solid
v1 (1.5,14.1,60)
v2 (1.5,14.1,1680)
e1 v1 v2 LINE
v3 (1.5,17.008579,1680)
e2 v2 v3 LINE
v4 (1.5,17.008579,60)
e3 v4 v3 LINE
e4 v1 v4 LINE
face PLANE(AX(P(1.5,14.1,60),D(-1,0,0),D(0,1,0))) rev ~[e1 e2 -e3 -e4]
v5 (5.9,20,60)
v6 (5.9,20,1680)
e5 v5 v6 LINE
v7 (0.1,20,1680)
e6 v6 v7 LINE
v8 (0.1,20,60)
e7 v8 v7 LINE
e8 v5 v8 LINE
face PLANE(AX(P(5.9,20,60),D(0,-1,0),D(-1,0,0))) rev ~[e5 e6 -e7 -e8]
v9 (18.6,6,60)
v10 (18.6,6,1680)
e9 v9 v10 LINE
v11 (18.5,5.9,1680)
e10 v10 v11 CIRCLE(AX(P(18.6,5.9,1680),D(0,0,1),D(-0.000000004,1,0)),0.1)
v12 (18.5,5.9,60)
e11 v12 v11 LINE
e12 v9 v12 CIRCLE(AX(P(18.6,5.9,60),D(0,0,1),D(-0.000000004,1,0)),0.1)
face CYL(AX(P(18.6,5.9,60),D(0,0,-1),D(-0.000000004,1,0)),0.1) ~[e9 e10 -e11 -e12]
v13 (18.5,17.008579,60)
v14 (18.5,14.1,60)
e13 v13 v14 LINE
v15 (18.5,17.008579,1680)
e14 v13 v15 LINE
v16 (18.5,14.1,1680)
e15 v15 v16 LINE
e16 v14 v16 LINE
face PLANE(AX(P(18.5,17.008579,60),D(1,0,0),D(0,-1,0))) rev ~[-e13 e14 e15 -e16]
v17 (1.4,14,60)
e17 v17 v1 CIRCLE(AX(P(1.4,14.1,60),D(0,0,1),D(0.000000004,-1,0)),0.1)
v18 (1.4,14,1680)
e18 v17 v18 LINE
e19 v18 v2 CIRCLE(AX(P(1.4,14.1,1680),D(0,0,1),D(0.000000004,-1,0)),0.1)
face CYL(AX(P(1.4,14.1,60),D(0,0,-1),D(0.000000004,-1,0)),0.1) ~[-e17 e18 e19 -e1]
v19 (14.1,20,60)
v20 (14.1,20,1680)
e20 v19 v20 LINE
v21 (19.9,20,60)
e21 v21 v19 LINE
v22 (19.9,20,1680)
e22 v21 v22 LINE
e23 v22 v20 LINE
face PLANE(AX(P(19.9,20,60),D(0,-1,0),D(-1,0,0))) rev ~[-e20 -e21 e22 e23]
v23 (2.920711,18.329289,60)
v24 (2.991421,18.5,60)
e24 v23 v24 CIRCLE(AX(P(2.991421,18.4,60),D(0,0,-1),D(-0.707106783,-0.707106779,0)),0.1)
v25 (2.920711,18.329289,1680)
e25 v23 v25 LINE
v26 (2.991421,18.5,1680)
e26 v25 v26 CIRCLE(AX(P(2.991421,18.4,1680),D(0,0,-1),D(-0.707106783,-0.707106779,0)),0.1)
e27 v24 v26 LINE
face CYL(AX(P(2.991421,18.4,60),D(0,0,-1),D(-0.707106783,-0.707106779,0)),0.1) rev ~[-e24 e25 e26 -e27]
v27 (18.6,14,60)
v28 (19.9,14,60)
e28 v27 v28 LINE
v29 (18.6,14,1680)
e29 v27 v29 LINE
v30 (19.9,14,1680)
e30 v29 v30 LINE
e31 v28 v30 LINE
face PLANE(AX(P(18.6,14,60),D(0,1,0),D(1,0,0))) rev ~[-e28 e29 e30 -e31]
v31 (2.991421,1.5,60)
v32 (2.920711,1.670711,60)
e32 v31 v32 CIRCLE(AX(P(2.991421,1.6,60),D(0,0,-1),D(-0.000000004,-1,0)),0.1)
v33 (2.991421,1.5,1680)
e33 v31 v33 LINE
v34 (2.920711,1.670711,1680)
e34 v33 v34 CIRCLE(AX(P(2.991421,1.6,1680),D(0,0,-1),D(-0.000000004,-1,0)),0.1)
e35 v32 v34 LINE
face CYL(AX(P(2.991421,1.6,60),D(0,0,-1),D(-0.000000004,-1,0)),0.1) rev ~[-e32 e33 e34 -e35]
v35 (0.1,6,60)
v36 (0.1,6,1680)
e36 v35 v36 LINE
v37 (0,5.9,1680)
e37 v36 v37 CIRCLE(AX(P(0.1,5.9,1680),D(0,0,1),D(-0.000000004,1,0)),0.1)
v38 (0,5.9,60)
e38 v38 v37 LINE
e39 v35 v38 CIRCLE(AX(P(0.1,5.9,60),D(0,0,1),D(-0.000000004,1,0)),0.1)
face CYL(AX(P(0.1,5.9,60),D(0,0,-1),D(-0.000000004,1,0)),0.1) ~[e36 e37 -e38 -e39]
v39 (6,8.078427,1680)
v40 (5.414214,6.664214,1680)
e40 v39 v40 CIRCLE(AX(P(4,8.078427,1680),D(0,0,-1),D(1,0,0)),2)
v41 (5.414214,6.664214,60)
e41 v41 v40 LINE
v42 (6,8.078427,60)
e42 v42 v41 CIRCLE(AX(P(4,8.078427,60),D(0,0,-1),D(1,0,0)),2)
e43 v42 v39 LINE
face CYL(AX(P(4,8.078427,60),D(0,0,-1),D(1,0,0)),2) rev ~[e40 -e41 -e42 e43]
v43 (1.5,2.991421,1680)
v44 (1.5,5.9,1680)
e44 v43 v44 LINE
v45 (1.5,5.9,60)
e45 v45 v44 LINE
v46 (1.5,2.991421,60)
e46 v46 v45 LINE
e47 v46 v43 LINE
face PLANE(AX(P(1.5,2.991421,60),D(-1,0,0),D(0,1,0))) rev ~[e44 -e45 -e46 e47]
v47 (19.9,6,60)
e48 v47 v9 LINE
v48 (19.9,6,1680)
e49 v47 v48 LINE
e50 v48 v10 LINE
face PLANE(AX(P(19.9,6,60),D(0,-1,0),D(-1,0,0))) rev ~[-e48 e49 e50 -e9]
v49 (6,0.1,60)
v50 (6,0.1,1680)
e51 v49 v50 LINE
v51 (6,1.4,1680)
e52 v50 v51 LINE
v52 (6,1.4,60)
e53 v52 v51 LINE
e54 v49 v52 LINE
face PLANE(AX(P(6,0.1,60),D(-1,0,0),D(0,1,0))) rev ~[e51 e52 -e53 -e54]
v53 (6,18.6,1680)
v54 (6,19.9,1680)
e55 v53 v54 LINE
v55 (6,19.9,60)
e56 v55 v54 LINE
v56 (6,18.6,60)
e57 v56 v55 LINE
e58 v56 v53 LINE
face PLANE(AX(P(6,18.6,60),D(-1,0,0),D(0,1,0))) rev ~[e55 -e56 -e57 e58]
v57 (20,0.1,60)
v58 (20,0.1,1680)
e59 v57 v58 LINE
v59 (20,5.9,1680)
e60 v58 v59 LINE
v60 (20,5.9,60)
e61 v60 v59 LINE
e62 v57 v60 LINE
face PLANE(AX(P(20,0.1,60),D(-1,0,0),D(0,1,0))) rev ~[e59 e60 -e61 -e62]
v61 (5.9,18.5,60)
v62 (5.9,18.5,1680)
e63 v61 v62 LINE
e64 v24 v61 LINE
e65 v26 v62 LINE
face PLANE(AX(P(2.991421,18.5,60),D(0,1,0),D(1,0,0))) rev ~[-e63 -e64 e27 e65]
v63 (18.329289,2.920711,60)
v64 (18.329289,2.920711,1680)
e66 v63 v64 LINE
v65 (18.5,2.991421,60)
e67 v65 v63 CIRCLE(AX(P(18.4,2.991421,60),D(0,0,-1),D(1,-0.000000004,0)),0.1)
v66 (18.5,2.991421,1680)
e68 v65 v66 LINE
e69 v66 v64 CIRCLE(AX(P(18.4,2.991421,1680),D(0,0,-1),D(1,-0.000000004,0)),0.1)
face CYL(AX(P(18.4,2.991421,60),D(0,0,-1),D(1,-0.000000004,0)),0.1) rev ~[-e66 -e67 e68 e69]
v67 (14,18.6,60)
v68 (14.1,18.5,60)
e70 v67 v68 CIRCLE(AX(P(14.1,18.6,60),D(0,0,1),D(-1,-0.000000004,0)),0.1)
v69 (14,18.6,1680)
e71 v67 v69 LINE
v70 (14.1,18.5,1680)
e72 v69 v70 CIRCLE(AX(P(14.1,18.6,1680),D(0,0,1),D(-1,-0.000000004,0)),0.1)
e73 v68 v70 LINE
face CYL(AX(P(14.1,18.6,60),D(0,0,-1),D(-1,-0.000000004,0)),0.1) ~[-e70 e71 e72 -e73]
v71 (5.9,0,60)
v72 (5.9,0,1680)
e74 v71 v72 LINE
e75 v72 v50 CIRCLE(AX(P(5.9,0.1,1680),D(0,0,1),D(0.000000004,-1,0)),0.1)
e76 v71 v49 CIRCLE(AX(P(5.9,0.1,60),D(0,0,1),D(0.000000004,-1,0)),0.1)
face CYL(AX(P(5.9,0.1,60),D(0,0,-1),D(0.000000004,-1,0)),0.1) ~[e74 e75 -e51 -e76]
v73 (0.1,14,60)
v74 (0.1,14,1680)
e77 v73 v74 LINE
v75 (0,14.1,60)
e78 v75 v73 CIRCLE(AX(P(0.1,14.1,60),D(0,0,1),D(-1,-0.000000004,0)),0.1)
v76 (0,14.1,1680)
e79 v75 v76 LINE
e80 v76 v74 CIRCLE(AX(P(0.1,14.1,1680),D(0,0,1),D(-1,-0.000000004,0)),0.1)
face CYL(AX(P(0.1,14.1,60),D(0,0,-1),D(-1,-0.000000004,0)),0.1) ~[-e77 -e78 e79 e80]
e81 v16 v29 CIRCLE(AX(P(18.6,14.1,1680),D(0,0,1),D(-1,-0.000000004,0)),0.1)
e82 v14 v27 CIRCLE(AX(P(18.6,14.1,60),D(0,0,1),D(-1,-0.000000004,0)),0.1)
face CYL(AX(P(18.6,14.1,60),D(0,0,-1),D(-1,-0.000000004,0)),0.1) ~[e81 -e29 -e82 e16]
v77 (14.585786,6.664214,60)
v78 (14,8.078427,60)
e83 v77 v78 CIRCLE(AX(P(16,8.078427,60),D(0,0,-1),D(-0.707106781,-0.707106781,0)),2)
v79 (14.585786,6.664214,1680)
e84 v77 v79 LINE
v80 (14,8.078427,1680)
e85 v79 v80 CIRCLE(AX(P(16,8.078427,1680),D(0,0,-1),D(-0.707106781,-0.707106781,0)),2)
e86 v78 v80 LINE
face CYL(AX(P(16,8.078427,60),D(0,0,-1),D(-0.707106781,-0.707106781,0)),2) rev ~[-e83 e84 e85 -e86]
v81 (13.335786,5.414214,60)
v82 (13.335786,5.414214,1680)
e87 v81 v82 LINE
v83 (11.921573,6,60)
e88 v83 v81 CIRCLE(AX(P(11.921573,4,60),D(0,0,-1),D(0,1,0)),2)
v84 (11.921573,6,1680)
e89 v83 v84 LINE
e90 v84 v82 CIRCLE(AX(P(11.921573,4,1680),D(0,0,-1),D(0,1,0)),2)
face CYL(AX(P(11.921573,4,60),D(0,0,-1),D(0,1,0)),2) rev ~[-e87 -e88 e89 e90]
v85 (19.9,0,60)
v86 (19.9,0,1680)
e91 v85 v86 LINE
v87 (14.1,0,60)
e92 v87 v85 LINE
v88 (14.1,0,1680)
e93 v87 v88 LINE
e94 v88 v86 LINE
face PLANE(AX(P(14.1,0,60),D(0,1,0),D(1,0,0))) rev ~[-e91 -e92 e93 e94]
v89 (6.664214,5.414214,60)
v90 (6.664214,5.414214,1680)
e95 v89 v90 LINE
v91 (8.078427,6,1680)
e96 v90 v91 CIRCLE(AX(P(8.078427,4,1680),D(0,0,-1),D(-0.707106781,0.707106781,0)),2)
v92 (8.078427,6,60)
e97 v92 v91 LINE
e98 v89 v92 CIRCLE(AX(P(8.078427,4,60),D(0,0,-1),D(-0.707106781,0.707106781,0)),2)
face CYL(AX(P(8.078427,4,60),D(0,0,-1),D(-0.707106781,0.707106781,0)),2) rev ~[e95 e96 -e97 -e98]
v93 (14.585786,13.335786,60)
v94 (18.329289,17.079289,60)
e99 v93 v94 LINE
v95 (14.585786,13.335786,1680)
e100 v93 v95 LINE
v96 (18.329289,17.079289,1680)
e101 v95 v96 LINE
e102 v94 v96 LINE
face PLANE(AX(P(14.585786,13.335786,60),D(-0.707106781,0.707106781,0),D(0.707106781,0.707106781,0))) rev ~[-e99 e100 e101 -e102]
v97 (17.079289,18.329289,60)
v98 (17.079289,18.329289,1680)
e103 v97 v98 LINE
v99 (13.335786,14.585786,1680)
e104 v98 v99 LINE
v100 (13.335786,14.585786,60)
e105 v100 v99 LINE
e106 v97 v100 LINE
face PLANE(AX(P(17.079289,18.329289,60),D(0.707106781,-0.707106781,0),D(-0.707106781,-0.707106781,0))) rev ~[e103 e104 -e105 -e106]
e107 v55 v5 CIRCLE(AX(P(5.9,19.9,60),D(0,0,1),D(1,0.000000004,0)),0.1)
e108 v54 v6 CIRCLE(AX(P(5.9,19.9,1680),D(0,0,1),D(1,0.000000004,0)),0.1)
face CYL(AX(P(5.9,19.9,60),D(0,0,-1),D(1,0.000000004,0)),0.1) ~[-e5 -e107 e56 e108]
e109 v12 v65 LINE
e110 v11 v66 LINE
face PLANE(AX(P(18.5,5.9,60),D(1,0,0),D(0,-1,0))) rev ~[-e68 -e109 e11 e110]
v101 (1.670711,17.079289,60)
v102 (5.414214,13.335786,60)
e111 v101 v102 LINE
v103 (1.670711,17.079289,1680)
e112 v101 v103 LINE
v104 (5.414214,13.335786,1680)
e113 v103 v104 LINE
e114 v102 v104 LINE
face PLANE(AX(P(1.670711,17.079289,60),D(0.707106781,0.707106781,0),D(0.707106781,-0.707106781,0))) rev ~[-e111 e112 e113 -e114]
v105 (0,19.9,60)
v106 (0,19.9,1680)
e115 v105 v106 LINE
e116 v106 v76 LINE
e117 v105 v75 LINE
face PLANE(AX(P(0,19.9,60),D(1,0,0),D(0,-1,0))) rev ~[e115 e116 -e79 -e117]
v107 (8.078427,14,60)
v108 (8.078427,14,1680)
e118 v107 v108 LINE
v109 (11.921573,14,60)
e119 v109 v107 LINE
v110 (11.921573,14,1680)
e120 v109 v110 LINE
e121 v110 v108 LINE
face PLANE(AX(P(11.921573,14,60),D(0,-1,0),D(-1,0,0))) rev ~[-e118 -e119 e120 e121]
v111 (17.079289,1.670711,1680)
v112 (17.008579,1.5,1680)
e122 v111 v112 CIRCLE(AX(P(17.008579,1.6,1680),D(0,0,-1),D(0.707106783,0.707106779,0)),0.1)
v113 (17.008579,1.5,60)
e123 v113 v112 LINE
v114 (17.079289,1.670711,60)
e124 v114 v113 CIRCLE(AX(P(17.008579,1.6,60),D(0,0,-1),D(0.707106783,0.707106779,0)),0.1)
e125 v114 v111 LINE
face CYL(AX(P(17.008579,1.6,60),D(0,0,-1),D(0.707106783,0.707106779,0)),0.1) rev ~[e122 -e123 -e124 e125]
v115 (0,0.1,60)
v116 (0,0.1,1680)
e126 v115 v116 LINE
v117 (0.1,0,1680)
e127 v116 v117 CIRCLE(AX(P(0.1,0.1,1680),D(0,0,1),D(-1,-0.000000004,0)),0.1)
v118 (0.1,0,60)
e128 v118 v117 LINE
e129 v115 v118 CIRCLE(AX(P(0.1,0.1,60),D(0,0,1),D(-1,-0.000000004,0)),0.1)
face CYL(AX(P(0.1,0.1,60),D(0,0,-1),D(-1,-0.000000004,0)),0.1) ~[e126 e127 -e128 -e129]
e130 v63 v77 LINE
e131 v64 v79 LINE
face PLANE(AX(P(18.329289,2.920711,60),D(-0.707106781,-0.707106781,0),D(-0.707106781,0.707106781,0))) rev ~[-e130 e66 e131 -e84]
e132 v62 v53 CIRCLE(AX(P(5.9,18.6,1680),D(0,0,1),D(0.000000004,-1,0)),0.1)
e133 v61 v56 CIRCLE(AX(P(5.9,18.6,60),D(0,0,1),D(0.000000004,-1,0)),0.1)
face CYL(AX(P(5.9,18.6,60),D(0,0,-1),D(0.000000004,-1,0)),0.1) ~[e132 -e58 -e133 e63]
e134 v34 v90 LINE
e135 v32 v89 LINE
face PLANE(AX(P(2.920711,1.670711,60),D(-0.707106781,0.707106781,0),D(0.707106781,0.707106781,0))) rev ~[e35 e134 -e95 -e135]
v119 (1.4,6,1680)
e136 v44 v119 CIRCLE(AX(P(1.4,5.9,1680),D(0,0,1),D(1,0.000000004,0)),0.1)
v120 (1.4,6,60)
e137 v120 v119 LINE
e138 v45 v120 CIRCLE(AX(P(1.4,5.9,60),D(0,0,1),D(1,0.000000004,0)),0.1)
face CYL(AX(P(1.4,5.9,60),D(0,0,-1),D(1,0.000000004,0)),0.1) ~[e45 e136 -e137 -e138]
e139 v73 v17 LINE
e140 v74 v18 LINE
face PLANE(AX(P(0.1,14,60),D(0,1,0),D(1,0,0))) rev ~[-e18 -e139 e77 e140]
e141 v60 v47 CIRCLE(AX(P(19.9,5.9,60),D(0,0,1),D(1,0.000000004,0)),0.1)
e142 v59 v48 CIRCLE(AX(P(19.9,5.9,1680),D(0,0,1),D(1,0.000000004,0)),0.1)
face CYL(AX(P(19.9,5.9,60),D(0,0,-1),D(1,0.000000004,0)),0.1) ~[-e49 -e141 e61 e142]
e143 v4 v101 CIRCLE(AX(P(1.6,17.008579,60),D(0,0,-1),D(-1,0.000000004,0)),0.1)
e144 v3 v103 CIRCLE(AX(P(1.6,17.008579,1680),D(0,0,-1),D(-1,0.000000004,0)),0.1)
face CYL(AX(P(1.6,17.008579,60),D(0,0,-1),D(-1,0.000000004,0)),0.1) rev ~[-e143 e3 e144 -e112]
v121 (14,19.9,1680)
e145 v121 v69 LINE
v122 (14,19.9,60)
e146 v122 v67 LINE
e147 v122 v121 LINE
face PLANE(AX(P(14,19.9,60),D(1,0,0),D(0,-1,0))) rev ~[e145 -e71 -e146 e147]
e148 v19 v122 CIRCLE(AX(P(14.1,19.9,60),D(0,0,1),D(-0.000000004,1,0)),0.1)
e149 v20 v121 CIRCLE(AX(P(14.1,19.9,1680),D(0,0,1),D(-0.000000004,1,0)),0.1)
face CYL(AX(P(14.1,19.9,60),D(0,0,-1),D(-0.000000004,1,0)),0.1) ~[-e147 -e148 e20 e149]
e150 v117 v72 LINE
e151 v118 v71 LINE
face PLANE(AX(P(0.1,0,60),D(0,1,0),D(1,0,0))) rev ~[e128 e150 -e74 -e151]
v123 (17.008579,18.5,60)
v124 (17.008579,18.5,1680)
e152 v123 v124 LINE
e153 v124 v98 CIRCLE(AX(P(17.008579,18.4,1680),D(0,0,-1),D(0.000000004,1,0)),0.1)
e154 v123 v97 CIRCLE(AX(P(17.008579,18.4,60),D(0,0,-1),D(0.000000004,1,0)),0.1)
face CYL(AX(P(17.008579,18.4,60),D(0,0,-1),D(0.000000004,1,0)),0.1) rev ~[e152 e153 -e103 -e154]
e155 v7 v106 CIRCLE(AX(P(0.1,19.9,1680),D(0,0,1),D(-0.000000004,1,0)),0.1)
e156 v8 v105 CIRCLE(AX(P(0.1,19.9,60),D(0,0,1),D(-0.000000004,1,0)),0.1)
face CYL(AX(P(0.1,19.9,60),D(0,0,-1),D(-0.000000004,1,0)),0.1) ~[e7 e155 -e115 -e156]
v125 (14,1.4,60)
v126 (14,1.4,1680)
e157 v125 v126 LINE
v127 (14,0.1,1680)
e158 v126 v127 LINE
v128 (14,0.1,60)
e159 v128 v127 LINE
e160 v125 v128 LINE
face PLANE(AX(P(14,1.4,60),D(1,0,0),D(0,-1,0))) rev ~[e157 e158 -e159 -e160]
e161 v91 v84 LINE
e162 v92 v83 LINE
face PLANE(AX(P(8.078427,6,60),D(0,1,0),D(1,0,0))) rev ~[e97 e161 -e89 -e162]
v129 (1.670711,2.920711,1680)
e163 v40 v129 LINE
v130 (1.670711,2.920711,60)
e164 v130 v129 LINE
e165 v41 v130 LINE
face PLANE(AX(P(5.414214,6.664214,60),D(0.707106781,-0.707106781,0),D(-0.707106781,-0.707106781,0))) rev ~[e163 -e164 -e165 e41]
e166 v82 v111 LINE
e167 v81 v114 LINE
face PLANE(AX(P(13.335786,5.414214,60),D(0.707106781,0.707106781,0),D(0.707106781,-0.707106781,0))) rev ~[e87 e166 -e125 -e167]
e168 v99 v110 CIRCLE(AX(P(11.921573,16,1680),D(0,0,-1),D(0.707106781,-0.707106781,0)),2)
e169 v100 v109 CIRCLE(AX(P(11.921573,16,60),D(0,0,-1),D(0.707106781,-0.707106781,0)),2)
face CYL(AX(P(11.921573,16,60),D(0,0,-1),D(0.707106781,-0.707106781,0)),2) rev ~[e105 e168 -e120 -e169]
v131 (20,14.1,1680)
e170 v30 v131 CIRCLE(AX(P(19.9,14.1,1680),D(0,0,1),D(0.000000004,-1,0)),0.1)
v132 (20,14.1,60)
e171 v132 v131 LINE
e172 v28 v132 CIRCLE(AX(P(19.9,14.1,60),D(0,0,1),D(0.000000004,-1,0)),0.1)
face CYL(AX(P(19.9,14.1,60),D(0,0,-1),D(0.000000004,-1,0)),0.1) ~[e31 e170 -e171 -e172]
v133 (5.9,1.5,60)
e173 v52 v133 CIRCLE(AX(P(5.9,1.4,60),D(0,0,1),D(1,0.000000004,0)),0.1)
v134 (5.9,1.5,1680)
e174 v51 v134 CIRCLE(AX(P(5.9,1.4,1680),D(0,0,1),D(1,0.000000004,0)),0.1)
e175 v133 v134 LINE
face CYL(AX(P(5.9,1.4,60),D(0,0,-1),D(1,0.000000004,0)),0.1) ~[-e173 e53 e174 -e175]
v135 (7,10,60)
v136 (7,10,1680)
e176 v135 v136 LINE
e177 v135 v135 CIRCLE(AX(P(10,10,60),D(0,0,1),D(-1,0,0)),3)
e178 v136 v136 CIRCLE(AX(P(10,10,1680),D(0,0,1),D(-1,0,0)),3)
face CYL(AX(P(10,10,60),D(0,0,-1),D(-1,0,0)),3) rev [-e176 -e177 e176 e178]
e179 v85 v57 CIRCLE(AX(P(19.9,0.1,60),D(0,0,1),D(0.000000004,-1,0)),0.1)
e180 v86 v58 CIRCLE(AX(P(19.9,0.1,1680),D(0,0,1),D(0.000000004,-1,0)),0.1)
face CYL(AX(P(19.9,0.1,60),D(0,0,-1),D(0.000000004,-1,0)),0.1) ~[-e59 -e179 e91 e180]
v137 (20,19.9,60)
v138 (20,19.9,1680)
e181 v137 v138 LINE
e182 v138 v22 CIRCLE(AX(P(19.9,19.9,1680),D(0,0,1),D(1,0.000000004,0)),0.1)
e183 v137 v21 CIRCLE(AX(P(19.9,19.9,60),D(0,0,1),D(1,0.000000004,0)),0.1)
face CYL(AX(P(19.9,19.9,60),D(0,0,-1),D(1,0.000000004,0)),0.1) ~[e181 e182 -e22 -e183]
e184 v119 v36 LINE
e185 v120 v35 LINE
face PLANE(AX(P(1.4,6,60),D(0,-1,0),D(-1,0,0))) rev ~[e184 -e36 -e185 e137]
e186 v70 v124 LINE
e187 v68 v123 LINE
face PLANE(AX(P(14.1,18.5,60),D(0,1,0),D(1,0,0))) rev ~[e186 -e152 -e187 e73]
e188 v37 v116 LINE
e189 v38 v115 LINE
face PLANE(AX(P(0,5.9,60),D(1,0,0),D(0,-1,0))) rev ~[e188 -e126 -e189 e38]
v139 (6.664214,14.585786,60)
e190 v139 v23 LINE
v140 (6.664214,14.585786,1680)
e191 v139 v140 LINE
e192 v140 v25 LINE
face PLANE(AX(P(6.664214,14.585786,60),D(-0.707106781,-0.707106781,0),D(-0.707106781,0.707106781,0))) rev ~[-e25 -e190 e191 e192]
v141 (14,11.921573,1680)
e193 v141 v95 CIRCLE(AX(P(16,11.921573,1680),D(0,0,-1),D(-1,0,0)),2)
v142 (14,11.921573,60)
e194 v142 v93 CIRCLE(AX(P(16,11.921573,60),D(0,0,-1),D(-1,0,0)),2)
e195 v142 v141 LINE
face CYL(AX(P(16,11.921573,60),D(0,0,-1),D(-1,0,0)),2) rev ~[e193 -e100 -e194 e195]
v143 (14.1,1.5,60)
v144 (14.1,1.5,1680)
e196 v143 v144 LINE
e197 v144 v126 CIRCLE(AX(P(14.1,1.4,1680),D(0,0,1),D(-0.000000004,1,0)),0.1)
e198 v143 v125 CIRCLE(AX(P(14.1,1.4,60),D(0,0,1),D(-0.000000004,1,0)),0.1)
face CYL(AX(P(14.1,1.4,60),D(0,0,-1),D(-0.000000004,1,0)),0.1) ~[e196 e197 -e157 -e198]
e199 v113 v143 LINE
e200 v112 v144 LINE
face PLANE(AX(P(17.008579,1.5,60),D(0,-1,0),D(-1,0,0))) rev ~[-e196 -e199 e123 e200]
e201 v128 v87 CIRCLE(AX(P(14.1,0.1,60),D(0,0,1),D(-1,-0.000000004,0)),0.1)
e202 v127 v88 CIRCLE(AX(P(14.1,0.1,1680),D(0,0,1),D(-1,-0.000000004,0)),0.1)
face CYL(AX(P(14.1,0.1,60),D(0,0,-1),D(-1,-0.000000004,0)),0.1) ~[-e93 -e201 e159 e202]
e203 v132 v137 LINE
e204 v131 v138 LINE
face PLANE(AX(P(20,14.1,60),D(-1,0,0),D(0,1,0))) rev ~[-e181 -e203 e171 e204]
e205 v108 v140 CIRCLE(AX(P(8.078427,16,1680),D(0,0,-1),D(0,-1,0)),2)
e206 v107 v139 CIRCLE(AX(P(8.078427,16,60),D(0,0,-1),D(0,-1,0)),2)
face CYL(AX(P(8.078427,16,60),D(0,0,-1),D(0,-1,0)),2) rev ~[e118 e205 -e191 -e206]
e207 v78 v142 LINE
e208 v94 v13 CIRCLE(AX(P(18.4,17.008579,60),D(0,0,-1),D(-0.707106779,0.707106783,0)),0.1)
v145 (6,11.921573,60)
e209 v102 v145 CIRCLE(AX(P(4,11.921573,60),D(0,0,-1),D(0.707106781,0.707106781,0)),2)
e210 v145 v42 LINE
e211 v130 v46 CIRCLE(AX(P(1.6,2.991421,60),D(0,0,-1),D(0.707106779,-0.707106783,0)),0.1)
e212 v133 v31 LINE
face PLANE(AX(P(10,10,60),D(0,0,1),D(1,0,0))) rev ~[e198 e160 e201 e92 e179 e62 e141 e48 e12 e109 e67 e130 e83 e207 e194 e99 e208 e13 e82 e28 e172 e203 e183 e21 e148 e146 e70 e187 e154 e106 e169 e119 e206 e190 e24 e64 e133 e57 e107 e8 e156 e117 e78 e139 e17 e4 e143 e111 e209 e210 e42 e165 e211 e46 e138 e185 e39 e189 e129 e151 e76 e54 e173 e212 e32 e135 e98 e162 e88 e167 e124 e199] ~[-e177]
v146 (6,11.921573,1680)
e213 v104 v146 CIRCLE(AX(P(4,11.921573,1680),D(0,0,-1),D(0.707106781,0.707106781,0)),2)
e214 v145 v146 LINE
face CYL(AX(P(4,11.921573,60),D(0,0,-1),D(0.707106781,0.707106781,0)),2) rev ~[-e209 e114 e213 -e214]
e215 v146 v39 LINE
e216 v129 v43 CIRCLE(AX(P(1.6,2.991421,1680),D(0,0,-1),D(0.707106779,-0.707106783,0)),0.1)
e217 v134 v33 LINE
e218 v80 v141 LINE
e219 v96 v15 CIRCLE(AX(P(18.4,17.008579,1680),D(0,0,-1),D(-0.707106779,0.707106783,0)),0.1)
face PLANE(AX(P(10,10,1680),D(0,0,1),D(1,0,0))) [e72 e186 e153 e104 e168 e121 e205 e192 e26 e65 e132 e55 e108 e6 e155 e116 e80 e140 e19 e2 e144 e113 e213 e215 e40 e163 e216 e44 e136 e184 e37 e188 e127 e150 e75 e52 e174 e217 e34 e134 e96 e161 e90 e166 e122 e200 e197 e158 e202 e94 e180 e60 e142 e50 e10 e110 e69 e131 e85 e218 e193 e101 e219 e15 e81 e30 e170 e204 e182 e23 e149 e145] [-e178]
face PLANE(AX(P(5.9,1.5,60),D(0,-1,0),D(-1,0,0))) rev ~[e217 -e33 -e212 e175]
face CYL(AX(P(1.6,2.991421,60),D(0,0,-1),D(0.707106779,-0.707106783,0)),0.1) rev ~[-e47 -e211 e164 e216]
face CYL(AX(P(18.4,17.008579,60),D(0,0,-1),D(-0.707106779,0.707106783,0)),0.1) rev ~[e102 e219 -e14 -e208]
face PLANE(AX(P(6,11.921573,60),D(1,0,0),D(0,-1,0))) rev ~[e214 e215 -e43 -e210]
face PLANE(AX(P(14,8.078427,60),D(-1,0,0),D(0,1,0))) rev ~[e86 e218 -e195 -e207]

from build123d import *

# Parameters (mm, degrees)
SKETCH1_R           = 3
BOSS_EXTRUDE2_DEPTH = 1620


with BuildPart() as part:
    # Sketch1 → Boss-Extrude2 (new body)
    with BuildSketch(Plane.XY.offset(60)):
        with BuildLine():
            Line((18.5, 17.008578644), (18.5, 14.1))
            ThreePointArc((18.5, 14.1), (18.529289322, 14.029289322), (18.6, 14))
            Line((18.6, 14), (19.9, 14))
            ThreePointArc((19.9, 14), (19.970710678, 14.029289322), (20, 14.1))
            Line((20, 14.1), (20, 19.9))
            ThreePointArc((20, 19.9), (19.970710678, 19.970710678), (19.9, 20))
            Line((19.9, 20), (14.1, 20))
            ThreePointArc((14.1, 20), (14.029289322, 19.970710678), (14, 19.9))
            Line((14, 19.9), (14, 18.6))
            ThreePointArc((14, 18.6), (14.029289322, 18.529289322), (14.1, 18.5))
            Line((14.1, 18.5), (17.008578644, 18.5))
            ThreePointArc((17.008578644, 18.5), (17.100966597, 18.438268343), (17.079289322, 18.329289322))
            Line((17.079289322, 18.329289322), (13.335786438, 14.585786438))
            ThreePointArc((13.335786438, 14.585786438), (12.68693974, 14.152240935), (11.921572875, 14))
            Line((11.921572875, 14), (8.078427125, 14))
            ThreePointArc((8.078427125, 14), (7.31306026, 14.152240935), (6.664213562, 14.585786438))
            Line((6.664213562, 14.585786438), (2.920710678, 18.329289322))
            ThreePointArc((2.920710678, 18.329289322), (2.899033403, 18.438268343), (2.991421356, 18.5))
            Line((2.991421356, 18.5), (5.9, 18.5))
            ThreePointArc((5.9, 18.5), (5.970710678, 18.529289322), (6, 18.6))
            Line((6, 18.6), (6, 19.9))
            ThreePointArc((6, 19.9), (5.970710678, 19.970710678), (5.9, 20))
            Line((5.9, 20), (0.1, 20))
            ThreePointArc((0.1, 20), (0.029289322, 19.970710678), (0, 19.9))
            Line((0, 19.9), (0, 14.1))
            ThreePointArc((0, 14.1), (0.029289322, 14.029289322), (0.1, 14))
            Line((0.1, 14), (1.4, 14))
            ThreePointArc((1.4, 14), (1.470710678, 14.029289322), (1.5, 14.1))
            Line((1.5, 14.1), (1.5, 17.008578644))
            ThreePointArc((1.5, 17.008578644), (1.561731657, 17.100966597), (1.670710678, 17.079289322))
            Line((1.670710678, 17.079289322), (5.414213562, 13.335786438))
            ThreePointArc((5.414213562, 13.335786438), (5.847759065, 12.68693974), (6, 11.921572875))
            Line((6, 11.921572875), (6, 8.078427125))
            ThreePointArc((6, 8.078427125), (5.847759065, 7.31306026), (5.414213562, 6.664213562))
            Line((5.414213562, 6.664213562), (1.670710678, 2.920710678))
            ThreePointArc((1.670710678, 2.920710678), (1.561731657, 2.899033403), (1.5, 2.991421356))
            Line((1.5, 2.991421356), (1.5, 5.9))
            ThreePointArc((1.5, 5.9), (1.470710678, 5.970710678), (1.4, 6))
            Line((1.4, 6), (0.1, 6))
            ThreePointArc((0.1, 6), (0.029289322, 5.970710678), (0, 5.9))
            Line((0, 5.9), (0, 0.1))
            ThreePointArc((0, 0.1), (0.029289322, 0.029289322), (0.1, 0))
            Line((0.1, 0), (5.9, 0))
            ThreePointArc((5.9, 0), (5.970710678, 0.029289322), (6, 0.1))
            Line((6, 0.1), (6, 1.4))
            ThreePointArc((6, 1.4), (5.970710678, 1.470710678), (5.9, 1.5))
            Line((5.9, 1.5), (2.991421356, 1.5))
            ThreePointArc((2.991421356, 1.5), (2.899033403, 1.561731657), (2.920710678, 1.670710678))
            Line((2.920710678, 1.670710678), (6.664213562, 5.414213562))
            ThreePointArc((6.664213562, 5.414213562), (7.31306026, 5.847759065), (8.078427125, 6))
            Line((8.078427125, 6), (11.921572875, 6))
            ThreePointArc((11.921572875, 6), (12.68693974, 5.847759065), (13.335786438, 5.414213562))
            Line((13.335786438, 5.414213562), (17.079289322, 1.670710678))
            ThreePointArc((17.079289322, 1.670710678), (17.100966597, 1.561731657), (17.008578644, 1.5))
            Line((17.008578644, 1.5), (14.1, 1.5))
            ThreePointArc((14.1, 1.5), (14.029289322, 1.470710678), (14, 1.4))
            Line((14, 1.4), (14, 0.1))
            ThreePointArc((14, 0.1), (14.029289322, 0.029289322), (14.1, 0))
            Line((14.1, 0), (19.9, 0))
            ThreePointArc((19.9, 0), (19.970710678, 0.029289322), (20, 0.1))
            Line((20, 0.1), (20, 5.9))
            ThreePointArc((20, 5.9), (19.970710678, 5.970710678), (19.9, 6))
            Line((19.9, 6), (18.6, 6))
            ThreePointArc((18.6, 6), (18.529289322, 5.970710678), (18.5, 5.9))
            Line((18.5, 5.9), (18.5, 2.991421356))
            ThreePointArc((18.5, 2.991421356), (18.438268343, 2.899033403), (18.329289322, 2.920710678))
            Line((18.329289322, 2.920710678), (14.585786438, 6.664213562))
            ThreePointArc((14.585786438, 6.664213562), (14.152240935, 7.31306026), (14, 8.078427125))
            Line((14, 8.078427125), (14, 11.921572875))
            ThreePointArc((14, 11.921572875), (14.152240935, 12.68693974), (14.585786438, 13.335786438))
            Line((14.585786438, 13.335786438), (18.329289322, 17.079289322))
            ThreePointArc((18.329289322, 17.079289322), (18.438268343, 17.100966597), (18.5, 17.008578644))
        make_face()
        with Locations(Location((10, 10, 0), (0, 0, 180))):
            Circle(SKETCH1_R, mode=Mode.SUBTRACT)
    extrude(amount=BOSS_EXTRUDE2_DEPTH)


solid = part.part
